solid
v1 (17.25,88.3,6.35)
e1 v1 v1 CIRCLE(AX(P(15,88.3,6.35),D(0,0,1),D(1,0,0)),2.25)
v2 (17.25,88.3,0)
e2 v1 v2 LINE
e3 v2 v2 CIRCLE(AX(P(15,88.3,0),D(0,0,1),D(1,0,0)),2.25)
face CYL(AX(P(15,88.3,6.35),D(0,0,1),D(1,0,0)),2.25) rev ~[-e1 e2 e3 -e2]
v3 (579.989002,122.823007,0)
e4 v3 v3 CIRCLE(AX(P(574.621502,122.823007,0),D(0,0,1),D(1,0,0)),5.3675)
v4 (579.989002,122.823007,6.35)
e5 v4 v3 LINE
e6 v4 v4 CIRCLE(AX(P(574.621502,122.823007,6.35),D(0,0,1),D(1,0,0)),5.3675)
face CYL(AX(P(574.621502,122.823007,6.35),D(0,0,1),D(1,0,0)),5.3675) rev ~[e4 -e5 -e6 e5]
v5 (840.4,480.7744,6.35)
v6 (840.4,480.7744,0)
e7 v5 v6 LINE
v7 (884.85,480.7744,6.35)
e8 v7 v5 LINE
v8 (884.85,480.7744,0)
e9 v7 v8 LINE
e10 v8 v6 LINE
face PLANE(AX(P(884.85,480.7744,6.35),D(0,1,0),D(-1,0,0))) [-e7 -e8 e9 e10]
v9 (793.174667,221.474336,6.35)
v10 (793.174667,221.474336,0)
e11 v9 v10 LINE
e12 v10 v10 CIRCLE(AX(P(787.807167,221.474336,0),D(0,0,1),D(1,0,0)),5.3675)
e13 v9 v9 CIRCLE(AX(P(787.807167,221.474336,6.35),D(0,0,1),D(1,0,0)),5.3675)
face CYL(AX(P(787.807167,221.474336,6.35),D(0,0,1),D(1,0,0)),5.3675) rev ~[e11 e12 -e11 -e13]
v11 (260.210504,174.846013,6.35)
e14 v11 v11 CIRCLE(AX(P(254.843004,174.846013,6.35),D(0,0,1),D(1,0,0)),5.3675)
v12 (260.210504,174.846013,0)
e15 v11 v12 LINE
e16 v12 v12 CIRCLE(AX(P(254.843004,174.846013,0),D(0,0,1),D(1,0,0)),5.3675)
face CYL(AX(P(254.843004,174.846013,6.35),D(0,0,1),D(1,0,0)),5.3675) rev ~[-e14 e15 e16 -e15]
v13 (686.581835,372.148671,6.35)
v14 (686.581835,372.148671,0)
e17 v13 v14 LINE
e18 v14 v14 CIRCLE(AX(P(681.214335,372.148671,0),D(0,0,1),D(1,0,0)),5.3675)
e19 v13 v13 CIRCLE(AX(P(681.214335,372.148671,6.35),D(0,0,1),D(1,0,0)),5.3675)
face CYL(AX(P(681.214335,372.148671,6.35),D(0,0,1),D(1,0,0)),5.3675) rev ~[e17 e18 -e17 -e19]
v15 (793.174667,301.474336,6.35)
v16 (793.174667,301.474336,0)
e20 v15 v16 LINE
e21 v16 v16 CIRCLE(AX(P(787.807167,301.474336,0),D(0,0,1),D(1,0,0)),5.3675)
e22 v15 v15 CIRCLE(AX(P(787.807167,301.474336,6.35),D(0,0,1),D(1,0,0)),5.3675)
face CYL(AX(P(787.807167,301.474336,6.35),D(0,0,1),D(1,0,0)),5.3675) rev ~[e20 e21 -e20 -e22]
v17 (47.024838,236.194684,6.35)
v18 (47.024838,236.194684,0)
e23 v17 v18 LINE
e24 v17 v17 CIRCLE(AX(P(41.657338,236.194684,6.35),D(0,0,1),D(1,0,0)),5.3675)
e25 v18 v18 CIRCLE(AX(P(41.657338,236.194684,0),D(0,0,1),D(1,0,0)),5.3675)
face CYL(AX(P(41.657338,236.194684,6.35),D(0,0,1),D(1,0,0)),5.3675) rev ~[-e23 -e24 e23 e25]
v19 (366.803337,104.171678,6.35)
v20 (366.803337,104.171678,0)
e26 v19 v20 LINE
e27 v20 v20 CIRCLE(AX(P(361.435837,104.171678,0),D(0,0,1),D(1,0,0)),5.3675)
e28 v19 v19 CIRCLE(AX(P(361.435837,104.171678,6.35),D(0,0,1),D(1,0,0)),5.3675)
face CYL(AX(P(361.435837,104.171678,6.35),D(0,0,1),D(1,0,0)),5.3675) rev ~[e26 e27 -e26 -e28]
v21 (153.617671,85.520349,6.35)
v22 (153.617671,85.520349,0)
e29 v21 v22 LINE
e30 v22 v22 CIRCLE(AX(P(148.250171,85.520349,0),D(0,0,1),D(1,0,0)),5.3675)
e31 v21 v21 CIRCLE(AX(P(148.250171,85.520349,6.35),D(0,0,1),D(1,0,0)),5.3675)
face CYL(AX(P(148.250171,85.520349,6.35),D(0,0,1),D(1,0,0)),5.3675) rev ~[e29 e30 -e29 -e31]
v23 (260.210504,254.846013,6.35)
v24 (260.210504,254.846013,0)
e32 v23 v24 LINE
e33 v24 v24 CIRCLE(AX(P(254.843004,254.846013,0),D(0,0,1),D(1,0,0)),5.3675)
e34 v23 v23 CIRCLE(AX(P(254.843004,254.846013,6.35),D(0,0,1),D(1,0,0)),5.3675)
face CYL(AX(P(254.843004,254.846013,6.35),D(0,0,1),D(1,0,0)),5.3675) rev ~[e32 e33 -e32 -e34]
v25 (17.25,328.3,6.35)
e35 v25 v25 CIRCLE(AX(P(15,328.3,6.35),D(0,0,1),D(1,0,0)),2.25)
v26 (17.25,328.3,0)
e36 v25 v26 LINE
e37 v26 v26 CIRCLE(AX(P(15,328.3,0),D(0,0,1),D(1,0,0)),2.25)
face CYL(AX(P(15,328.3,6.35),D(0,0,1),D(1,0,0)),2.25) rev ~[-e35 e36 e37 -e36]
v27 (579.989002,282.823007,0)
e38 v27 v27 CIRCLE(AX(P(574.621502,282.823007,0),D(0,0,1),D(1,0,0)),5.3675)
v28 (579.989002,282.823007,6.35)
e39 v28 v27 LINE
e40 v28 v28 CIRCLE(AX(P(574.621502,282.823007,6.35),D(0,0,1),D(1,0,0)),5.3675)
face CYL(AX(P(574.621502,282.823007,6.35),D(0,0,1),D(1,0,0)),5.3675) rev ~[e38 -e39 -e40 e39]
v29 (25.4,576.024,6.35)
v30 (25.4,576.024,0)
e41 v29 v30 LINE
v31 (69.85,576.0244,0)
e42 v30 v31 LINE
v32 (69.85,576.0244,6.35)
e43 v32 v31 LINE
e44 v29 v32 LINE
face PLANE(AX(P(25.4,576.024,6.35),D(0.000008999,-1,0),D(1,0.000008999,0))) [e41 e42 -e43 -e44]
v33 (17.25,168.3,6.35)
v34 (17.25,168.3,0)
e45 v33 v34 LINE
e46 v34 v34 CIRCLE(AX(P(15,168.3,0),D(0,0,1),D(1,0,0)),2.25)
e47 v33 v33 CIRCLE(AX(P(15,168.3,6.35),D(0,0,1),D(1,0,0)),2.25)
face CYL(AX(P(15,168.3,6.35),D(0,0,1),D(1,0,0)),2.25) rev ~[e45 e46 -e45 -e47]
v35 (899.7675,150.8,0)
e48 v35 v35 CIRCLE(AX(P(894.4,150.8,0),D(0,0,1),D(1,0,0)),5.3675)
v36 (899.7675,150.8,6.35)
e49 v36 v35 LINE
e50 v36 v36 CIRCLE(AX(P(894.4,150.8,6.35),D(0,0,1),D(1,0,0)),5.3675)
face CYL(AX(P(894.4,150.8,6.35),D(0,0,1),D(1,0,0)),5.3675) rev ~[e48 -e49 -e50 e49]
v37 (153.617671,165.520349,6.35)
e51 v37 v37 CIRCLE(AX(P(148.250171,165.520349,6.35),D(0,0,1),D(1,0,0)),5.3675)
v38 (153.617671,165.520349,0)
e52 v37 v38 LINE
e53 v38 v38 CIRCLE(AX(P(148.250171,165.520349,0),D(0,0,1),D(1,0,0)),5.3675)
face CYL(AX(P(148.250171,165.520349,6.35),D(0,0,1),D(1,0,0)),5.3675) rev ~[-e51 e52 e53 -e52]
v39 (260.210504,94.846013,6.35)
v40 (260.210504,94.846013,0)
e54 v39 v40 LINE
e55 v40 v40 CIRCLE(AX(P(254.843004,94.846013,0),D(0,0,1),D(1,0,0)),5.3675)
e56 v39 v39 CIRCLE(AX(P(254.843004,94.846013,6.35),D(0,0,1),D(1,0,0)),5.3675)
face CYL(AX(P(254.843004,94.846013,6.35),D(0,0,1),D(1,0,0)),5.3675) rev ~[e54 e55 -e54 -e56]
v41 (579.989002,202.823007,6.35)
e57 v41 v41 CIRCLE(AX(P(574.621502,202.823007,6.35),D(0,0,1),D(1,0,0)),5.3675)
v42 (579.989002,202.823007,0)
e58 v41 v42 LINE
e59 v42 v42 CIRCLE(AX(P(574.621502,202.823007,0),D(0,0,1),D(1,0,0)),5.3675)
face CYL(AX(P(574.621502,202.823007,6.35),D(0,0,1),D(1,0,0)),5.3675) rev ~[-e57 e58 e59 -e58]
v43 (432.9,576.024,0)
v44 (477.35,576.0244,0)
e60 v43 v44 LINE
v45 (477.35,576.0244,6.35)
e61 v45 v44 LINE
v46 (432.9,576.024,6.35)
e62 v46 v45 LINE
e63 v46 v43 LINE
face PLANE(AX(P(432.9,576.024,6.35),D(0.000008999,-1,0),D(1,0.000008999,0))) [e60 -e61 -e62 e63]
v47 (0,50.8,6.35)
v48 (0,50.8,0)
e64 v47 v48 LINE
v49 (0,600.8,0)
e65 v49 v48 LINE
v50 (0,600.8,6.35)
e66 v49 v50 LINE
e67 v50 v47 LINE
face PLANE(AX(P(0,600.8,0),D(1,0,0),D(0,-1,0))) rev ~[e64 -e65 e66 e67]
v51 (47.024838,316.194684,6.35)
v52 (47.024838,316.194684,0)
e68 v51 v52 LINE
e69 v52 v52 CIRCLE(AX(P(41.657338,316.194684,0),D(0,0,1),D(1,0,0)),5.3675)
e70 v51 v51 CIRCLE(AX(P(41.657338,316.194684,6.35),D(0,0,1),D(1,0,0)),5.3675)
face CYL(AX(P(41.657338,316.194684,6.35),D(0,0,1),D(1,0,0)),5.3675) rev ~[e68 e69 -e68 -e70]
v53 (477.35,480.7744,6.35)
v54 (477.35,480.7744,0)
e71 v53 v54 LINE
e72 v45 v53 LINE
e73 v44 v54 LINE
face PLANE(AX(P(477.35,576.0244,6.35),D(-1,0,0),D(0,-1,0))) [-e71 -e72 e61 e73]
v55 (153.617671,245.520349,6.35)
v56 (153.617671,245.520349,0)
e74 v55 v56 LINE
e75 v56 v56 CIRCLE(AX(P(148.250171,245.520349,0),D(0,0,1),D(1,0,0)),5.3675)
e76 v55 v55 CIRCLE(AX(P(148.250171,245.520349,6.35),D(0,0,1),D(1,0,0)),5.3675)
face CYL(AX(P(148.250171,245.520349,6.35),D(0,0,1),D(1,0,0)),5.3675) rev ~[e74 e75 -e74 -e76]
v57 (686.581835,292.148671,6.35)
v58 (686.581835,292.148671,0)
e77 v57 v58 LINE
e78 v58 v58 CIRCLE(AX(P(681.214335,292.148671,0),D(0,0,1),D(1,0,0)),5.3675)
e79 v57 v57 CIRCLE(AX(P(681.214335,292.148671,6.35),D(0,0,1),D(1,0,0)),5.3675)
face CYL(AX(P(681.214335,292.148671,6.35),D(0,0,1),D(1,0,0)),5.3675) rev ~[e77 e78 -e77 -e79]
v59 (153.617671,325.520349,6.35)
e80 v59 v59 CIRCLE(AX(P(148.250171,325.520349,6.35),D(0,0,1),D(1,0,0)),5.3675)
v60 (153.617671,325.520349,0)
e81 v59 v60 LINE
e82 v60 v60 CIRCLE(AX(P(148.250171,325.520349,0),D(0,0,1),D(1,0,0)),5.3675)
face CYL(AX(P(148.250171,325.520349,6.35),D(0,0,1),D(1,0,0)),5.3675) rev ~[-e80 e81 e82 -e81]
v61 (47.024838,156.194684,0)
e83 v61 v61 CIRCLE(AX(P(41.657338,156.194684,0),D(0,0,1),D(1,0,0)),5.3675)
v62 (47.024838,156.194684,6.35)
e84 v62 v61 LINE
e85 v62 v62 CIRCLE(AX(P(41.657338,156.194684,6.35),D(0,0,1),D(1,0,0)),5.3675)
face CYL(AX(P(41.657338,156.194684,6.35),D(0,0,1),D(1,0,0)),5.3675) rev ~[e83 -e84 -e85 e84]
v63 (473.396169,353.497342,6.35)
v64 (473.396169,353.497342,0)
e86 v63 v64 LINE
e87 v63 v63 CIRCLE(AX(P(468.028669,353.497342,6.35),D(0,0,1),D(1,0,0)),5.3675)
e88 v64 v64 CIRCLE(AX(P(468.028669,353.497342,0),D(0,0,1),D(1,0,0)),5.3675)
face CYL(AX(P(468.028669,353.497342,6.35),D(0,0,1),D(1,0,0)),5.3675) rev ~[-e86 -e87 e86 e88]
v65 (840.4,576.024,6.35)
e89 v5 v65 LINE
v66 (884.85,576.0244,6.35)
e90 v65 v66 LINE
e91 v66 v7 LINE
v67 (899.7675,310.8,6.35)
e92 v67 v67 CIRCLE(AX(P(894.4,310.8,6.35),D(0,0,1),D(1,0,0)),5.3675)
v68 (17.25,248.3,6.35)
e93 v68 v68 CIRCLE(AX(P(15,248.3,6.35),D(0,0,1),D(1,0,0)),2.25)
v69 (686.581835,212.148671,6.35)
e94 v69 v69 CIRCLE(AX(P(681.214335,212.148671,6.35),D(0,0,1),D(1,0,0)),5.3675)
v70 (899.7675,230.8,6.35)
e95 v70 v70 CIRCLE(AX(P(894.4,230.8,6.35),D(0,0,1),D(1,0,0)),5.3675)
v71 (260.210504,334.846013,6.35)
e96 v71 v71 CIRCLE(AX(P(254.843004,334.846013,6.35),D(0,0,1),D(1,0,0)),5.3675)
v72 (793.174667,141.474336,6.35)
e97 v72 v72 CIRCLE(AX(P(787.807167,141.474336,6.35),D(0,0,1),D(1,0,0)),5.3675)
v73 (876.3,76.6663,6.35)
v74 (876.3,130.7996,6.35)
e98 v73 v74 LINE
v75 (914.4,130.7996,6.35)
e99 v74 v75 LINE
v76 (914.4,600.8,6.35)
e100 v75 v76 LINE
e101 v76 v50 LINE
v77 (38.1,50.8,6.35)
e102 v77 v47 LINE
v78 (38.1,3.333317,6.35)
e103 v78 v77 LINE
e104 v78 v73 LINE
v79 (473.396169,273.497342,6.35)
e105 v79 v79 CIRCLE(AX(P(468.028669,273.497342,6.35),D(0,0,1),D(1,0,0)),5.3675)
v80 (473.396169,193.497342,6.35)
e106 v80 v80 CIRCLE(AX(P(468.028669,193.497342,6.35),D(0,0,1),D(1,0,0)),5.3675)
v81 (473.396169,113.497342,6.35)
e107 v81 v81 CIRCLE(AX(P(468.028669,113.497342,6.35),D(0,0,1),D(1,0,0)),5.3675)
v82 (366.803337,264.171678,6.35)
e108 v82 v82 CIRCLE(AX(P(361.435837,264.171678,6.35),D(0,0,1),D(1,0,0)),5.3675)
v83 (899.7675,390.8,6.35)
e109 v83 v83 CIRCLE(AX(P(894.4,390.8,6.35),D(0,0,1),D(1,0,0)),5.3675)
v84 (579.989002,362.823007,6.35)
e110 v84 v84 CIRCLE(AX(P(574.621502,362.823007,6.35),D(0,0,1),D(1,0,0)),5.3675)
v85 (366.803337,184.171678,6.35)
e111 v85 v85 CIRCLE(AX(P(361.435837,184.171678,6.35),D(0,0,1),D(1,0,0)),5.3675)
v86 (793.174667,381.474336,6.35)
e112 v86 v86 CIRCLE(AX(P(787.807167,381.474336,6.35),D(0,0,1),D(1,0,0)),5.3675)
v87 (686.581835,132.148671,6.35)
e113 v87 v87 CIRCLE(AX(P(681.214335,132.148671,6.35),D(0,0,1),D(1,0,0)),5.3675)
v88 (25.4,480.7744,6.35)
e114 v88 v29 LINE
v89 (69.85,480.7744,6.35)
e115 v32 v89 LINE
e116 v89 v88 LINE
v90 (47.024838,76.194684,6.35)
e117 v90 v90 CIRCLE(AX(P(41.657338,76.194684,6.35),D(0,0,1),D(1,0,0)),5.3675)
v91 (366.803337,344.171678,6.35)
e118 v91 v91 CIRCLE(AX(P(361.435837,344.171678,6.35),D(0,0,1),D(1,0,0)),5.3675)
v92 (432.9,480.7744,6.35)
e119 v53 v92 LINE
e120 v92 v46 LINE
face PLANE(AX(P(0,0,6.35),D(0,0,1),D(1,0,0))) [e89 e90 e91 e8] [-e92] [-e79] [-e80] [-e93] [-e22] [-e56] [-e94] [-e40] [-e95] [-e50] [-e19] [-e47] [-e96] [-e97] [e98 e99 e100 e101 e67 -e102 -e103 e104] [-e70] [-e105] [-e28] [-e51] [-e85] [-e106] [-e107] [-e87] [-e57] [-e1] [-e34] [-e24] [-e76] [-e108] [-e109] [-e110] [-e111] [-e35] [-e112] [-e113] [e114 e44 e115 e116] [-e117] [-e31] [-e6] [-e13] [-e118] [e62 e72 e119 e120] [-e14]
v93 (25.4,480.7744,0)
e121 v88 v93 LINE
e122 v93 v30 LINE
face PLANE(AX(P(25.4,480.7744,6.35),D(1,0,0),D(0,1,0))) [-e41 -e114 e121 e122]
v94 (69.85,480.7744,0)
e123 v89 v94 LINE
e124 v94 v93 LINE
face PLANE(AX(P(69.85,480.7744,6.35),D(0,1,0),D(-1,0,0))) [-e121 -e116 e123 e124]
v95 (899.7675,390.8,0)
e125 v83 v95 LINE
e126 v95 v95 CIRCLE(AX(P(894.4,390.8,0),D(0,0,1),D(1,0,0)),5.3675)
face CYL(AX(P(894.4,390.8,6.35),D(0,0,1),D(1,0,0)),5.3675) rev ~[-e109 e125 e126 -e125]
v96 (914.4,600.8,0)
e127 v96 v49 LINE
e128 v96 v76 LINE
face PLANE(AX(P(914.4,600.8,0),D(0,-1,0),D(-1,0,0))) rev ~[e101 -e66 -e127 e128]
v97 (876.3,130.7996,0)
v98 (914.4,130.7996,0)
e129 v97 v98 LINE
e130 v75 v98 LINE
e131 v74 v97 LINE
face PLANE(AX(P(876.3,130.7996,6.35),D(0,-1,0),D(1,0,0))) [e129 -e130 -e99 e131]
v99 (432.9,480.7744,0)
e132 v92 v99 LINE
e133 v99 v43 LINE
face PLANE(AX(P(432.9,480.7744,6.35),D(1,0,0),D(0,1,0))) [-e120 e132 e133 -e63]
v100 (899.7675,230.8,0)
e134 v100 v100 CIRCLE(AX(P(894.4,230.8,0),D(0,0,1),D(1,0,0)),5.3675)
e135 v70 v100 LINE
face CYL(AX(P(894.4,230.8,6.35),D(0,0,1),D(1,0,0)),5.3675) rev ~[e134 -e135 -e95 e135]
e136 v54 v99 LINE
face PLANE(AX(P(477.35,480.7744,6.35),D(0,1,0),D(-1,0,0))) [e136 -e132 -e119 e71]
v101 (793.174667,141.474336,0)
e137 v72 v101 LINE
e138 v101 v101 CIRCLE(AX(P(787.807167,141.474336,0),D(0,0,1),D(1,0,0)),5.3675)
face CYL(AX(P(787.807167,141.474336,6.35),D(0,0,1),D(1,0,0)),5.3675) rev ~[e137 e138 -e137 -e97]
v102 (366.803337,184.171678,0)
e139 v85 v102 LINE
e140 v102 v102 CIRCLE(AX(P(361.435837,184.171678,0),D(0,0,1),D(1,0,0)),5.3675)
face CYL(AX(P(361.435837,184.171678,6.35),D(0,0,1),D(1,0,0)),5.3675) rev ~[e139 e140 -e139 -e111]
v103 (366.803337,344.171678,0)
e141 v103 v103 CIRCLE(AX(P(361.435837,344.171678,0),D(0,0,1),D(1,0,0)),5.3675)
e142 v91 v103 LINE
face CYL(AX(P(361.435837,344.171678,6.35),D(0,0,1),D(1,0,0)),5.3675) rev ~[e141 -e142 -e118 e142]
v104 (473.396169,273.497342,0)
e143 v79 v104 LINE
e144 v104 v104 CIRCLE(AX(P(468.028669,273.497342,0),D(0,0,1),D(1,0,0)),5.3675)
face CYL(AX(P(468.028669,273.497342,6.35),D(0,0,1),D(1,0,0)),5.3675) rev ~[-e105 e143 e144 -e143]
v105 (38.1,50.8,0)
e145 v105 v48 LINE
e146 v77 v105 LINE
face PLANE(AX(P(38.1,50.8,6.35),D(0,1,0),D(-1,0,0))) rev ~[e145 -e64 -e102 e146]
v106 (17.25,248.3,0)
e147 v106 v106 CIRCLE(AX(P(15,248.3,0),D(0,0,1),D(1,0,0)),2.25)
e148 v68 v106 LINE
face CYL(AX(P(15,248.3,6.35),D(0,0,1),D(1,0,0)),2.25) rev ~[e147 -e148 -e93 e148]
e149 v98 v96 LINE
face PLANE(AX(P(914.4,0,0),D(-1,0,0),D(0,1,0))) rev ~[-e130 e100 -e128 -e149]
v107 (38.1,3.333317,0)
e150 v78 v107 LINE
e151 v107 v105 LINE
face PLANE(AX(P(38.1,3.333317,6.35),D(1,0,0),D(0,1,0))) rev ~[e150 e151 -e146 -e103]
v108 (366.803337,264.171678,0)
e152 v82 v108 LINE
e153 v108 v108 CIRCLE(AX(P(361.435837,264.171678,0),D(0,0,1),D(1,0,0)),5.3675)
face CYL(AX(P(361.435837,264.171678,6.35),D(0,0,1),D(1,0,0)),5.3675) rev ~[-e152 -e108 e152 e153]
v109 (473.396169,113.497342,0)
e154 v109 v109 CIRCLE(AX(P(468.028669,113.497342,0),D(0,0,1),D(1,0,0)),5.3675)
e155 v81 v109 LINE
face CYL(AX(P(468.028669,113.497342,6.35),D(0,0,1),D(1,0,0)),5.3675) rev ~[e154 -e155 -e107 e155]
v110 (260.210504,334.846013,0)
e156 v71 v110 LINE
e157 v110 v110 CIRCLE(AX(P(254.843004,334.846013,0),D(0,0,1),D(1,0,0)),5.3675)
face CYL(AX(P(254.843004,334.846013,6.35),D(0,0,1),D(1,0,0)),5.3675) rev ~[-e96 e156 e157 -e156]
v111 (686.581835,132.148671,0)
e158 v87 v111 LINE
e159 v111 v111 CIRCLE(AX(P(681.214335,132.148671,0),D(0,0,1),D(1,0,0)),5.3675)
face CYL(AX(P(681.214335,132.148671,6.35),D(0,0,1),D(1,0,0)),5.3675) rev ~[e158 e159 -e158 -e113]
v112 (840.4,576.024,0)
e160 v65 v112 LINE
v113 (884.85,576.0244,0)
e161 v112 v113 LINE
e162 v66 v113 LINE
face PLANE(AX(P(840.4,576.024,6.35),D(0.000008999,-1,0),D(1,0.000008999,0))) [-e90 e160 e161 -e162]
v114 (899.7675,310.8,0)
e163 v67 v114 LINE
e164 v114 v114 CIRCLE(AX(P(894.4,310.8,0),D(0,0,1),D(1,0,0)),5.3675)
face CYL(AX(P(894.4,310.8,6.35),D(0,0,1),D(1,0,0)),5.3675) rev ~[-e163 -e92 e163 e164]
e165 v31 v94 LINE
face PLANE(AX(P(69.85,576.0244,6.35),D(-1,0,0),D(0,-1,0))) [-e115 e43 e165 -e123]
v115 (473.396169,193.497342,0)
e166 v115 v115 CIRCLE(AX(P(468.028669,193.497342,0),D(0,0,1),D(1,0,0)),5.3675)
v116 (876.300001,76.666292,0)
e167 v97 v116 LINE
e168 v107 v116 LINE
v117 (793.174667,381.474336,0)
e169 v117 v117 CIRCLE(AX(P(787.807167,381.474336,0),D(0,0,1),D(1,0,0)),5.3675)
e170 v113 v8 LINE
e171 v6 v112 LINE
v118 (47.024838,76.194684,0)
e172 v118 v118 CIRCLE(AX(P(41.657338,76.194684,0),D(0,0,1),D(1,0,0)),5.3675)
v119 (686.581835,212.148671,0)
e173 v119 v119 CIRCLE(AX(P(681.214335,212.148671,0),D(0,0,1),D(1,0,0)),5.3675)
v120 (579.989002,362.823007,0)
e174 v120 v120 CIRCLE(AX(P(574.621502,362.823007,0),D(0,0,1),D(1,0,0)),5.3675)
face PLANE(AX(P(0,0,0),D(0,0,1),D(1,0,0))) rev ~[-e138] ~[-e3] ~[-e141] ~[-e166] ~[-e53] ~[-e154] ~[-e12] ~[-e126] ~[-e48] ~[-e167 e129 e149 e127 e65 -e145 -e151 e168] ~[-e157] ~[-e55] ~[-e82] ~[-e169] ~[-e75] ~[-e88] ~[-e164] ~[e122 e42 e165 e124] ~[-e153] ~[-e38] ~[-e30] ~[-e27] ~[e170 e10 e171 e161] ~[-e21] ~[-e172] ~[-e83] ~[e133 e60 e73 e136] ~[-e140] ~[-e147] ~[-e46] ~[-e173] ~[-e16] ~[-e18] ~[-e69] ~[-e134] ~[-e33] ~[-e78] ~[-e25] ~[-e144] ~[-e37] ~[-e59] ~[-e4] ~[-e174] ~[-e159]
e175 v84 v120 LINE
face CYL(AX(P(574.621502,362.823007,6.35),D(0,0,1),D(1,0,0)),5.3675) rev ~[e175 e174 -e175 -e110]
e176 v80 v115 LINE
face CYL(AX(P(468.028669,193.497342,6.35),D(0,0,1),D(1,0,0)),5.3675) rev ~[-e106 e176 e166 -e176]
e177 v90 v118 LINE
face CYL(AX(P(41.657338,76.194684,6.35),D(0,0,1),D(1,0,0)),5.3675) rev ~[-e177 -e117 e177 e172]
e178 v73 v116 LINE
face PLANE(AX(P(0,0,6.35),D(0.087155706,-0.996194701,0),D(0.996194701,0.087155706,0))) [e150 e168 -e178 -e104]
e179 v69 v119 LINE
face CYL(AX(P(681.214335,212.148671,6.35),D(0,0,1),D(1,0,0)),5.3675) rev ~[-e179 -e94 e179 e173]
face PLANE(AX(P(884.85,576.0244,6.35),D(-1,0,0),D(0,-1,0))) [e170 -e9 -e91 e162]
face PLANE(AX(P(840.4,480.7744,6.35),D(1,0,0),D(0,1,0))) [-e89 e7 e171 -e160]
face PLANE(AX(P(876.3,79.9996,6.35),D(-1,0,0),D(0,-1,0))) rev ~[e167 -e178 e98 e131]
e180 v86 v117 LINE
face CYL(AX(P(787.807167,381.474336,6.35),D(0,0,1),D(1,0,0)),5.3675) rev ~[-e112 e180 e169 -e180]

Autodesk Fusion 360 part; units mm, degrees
sketch "Sketch1" plane through (0, 0, 0) normal (0, 0, 1) x (1, 0, 0)
  line L0 (0, 0) -> (914.4, 0)
  line L1 (914.4, 0) -> (914.4, 600.8)
  line L2 (914.4, 600.8) -> (0, 600.8)
  line L3 (0, 600.8) -> (0, 0)
  dimension "d1" = 914.4
  dimension "d2" = 600.8
extrude "Extrude1" add sketch "Sketch1" along normal blind 6.35
sketch "Sketch4" plane through (0, 0, 6.35) normal (0, 0, 1) x (1, 0, 0)
  circle A0 centre (894.4, 150.8) radius 5.3675
  line L0 (0, 0) -> (800, 0)
  line L1 (914.4, 0) -> (914.4, 600.8)
  line L2 (0, 600.8) -> (0, 0)
  line L3 (0, 0) -> (914.4, 0)
  line L4 (914.4, 0) -> (914.4, 600.8)
  line L5 (914.4, 600.8) -> (0, 600.8)
  dimension "d6" = 10.735
  dimension "d8" = 150.8
  dimension "d38" = 20
extrude "Extrude2" cut sketch "Sketch4" against normal blind 35 contours A0
sketch "Sketch5" plane through (0, 0, 6.35) normal (0, 0, 1) x (1, 0, 0)
  circle A0 centre (894.4, 150.8) radius 5.3675
  line L0 (0, 600.8) -> (0, 0)
  line L1 (0, 0) -> (914.4, 0)
  line L2 (914.4, 0) -> (914.4, 600.8)
  line L3 (914.4, 600.8) -> (0, 600.8)
  line L4 (894.4, 150.8) -> (97.4442, 81.0754)
  line L5 (894.4, 150.8) -> (1694.4, 150.8) construction
  dimension "d11" = 175
  dimension "d12" = 800
pattern_linear "R-Pattern1" count 9 spacing 107 along (-0.9962, -0.0872, 0) count 4 spacing 80 along (0, 1, 0) of "Extrude2"
sketch "Sketch6" plane through (0, 0, 6.35) normal (0, 0, 1) x (1, 0, 0)
  circle A0 centre (41.6573, 316.1947) radius 5.3675
  circle A1 centre (148.2502, 325.5203) radius 5.3675
  circle A2 centre (254.843, 334.846) radius 5.3675
  circle A3 centre (361.4358, 344.1717) radius 5.3675
  circle A4 centre (468.0287, 353.4973) radius 5.3675
  circle A5 centre (574.6215, 362.823) radius 5.3675
  circle A6 centre (681.2143, 372.1487) radius 5.3675
  circle A7 centre (787.8072, 381.4743) radius 5.3675
  circle A8 centre (894.4, 390.8) radius 5.3675
  circle A9 centre (41.6573, 236.1947) radius 5.3675
  circle A10 centre (148.2502, 245.5203) radius 5.3675
  circle A11 centre (254.843, 254.846) radius 5.3675
  circle A12 centre (361.4358, 264.1717) radius 5.3675
  circle A13 centre (468.0287, 273.4973) radius 5.3675
  circle A14 centre (574.6215, 282.823) radius 5.3675
  circle A15 centre (681.2143, 292.1487) radius 5.3675
  circle A16 centre (787.8072, 301.4743) radius 5.3675
  circle A17 centre (894.4, 310.8) radius 5.3675
  circle A18 centre (41.6573, 156.1947) radius 5.3675
  circle A19 centre (148.2502, 165.5203) radius 5.3675
  circle A20 centre (254.843, 174.846) radius 5.3675
  circle A21 centre (361.4358, 184.1717) radius 5.3675
  circle A22 centre (468.0287, 193.4973) radius 5.3675
  circle A23 centre (574.6215, 202.823) radius 5.3675
  circle A24 centre (681.2143, 212.1487) radius 5.3675
  circle A25 centre (787.8072, 221.4743) radius 5.3675
  circle A26 centre (894.4, 230.8) radius 5.3675
  circle A27 centre (41.6573, 76.1947) radius 5.3675
  circle A28 centre (148.2502, 85.5203) radius 5.3675
  circle A29 centre (254.843, 94.846) radius 5.3675
  circle A30 centre (361.4358, 104.1717) radius 5.3675
  circle A31 centre (468.0287, 113.4973) radius 5.3675
  circle A32 centre (574.6215, 122.823) radius 5.3675
  circle A33 centre (681.2143, 132.1487) radius 5.3675
  circle A34 centre (787.8072, 141.4743) radius 5.3675
  circle A35 centre (894.4, 150.8) radius 5.3675
  line L0 (0, 600.8) -> (0, 0)
  line L1 (0, 0) -> (914.4, 0)
  line L2 (914.4, 0) -> (914.4, 600.8)
  line L3 (914.4, 600.8) -> (0, 600.8)
  line L4 (69.85, 576.0244) -> (69.85, 480.7744)
  line L5 (69.85, 480.7744) -> (25.4, 480.7744)
  line L6 (25.4, 480.7744) -> (25.4, 576.024)
  line L7 (25.4, 576.024) -> (69.85, 576.0244)
  line L8 (0, 600.8) -> (0, 0)
  line L9 (914.4, 600.8) -> (0, 600.8)
  line L10 (0, 0) -> (800, 0)
  dimension "d17" = 95.25
  dimension "d18" = 44.45
  dimension "d39" = 25.4
  dimension "d42" = 44.45
  dimension "d43" = 480.7744
extrude "Extrude3" cut sketch "Sketch6" against normal blind 100 contours L4 L5 L6 L7
pattern_linear "R-Pattern2" count 3 spacing 407.5 along (1, 0, 0) of "Extrude3"
sketch "Sketch7" plane through (0, 0, 6.35) normal (0, 0, 1) x (1, 0, 0)
  line L0 (884.85, 480.7744) -> (840.4, 480.7744)
  line L1 (840.4, 480.7744) -> (840.4, 576.024)
  line L2 (840.4, 576.024) -> (884.85, 576.0244)
  line L3 (884.85, 576.0244) -> (884.85, 480.7744)
  line L4 (477.35, 480.7744) -> (432.9, 480.7744)
  line L5 (432.9, 480.7744) -> (432.9, 576.024)
  line L6 (432.9, 576.024) -> (477.35, 576.0244)
  line L7 (477.35, 576.0244) -> (477.35, 480.7744)
  line L8 (69.85, 480.7744) -> (25.4, 480.7744)
  line L9 (25.4, 480.7744) -> (25.4, 576.024)
  line L10 (25.4, 576.024) -> (69.85, 576.0244)
  line L11 (69.85, 576.0244) -> (69.85, 480.7744)
  circle A0 centre (41.6573, 316.1947) radius 5.3675
  circle A1 centre (148.2502, 325.5203) radius 5.3675
  circle A2 centre (254.843, 334.846) radius 5.3675
  circle A3 centre (361.4358, 344.1717) radius 5.3675
  circle A4 centre (468.0287, 353.4973) radius 5.3675
  circle A5 centre (574.6215, 362.823) radius 5.3675
  circle A6 centre (681.2143, 372.1487) radius 5.3675
  circle A7 centre (787.8072, 381.4743) radius 5.3675
  circle A8 centre (894.4, 390.8) radius 5.3675
  circle A9 centre (41.6573, 236.1947) radius 5.3675
  circle A10 centre (148.2502, 245.5203) radius 5.3675
  circle A11 centre (254.843, 254.846) radius 5.3675
  circle A12 centre (361.4358, 264.1717) radius 5.3675
  circle A13 centre (468.0287, 273.4973) radius 5.3675
  circle A14 centre (574.6215, 282.823) radius 5.3675
  circle A15 centre (681.2143, 292.1487) radius 5.3675
  circle A16 centre (787.8072, 301.4743) radius 5.3675
  circle A17 centre (894.4, 310.8) radius 5.3675
  circle A18 centre (41.6573, 156.1947) radius 5.3675
  circle A19 centre (148.2502, 165.5203) radius 5.3675
  circle A20 centre (254.843, 174.846) radius 5.3675
  circle A21 centre (361.4358, 184.1717) radius 5.3675
  circle A22 centre (468.0287, 193.4973) radius 5.3675
  circle A23 centre (574.6215, 202.823) radius 5.3675
  circle A24 centre (681.2143, 212.1487) radius 5.3675
  circle A25 centre (787.8072, 221.4743) radius 5.3675
  circle A26 centre (894.4, 230.8) radius 5.3675
  circle A27 centre (41.6573, 76.1947) radius 5.3675
  circle A28 centre (148.2502, 85.5203) radius 5.3675
  circle A29 centre (254.843, 94.846) radius 5.3675
  circle A30 centre (361.4358, 104.1717) radius 5.3675
  circle A31 centre (468.0287, 113.4973) radius 5.3675
  circle A32 centre (574.6215, 122.823) radius 5.3675
  circle A33 centre (681.2143, 132.1487) radius 5.3675
  circle A34 centre (787.8072, 141.4743) radius 5.3675
  circle A35 centre (894.4, 150.8) radius 5.3675
  line L12 (0, 600.8) -> (0, 0)
  line L13 (0, 0) -> (914.4, 0)
  line L14 (914.4, 0) -> (914.4, 600.8)
  line L15 (914.4, 600.8) -> (0, 600.8)
  line L16 (0, 0) -> (914.4, 79.9996)
  line L17 (0, 0) -> (803.0559, 0) construction
  line L18 (914.4, 79.9996) -> (914.4, 0)
  line L19 (914.4, 0) -> (0, 0)
  dimension "d25" = 5
extrude "Extrude4" cut sketch "Sketch7" against normal blind 150 contours L13 L14 L16 L18 L19
sketch "Sketch8" plane through (0, 0, 6.35) normal (0, 0, 1) x (1, 0, 0)
  line L0 (0, 0) -> (914.4, 79.9996)
  line L1 (914.4, 79.9996) -> (914.4, 600.8)
  line L2 (914.4, 600.8) -> (0, 600.8)
  line L3 (0, 600.8) -> (0, 0)
  circle A0 centre (894.4, 150.8) radius 5.3675
  circle A1 centre (787.8072, 141.4743) radius 5.3675
  circle A2 centre (681.2143, 132.1487) radius 5.3675
  circle A3 centre (574.6215, 122.823) radius 5.3675
  circle A4 centre (468.0287, 113.4973) radius 5.3675
  circle A5 centre (361.4358, 104.1717) radius 5.3675
  circle A6 centre (254.843, 94.846) radius 5.3675
  circle A7 centre (148.2502, 85.5203) radius 5.3675
  circle A8 centre (41.6573, 76.1947) radius 5.3675
  circle A9 centre (894.4, 230.8) radius 5.3675
  circle A10 centre (787.8072, 221.4743) radius 5.3675
  circle A11 centre (681.2143, 212.1487) radius 5.3675
  circle A12 centre (574.6215, 202.823) radius 5.3675
  circle A13 centre (468.0287, 193.4973) radius 5.3675
  circle A14 centre (361.4358, 184.1717) radius 5.3675
  circle A15 centre (254.843, 174.846) radius 5.3675
  circle A16 centre (148.2502, 165.5203) radius 5.3675
  circle A17 centre (41.6573, 156.1947) radius 5.3675
  circle A18 centre (894.4, 310.8) radius 5.3675
  circle A19 centre (787.8072, 301.4743) radius 5.3675
  circle A20 centre (681.2143, 292.1487) radius 5.3675
  circle A21 centre (574.6215, 282.823) radius 5.3675
  circle A22 centre (468.0287, 273.4973) radius 5.3675
  circle A23 centre (361.4358, 264.1717) radius 5.3675
  circle A24 centre (254.843, 254.846) radius 5.3675
  circle A25 centre (148.2502, 245.5203) radius 5.3675
  circle A26 centre (41.6573, 236.1947) radius 5.3675
  circle A27 centre (894.4, 390.8) radius 5.3675
  circle A28 centre (787.8072, 381.4743) radius 5.3675
  circle A29 centre (681.2143, 372.1487) radius 5.3675
  circle A30 centre (574.6215, 362.823) radius 5.3675
  circle A31 centre (468.0287, 353.4973) radius 5.3675
  circle A32 centre (361.4358, 344.1717) radius 5.3675
  circle A33 centre (254.843, 334.846) radius 5.3675
  circle A34 centre (148.2502, 325.5203) radius 5.3675
  circle A35 centre (41.6573, 316.1947) radius 5.3675
  line L4 (69.85, 480.7744) -> (25.4, 480.7744)
  line L5 (25.4, 480.7744) -> (25.4, 576.024)
  line L6 (25.4, 576.024) -> (69.85, 576.0244)
  line L7 (69.85, 576.0244) -> (69.85, 480.7744)
  line L8 (477.35, 480.7744) -> (432.9, 480.7744)
  line L9 (432.9, 480.7744) -> (432.9, 576.024)
  line L10 (432.9, 576.024) -> (477.35, 576.0244)
  line L11 (477.35, 576.0244) -> (477.35, 480.7744)
  line L12 (884.85, 480.7744) -> (840.4, 480.7744)
  line L13 (840.4, 480.7744) -> (840.4, 576.024)
  line L14 (840.4, 576.024) -> (884.85, 576.0244)
  line L15 (884.85, 576.0244) -> (884.85, 480.7744)
  circle A36 centre (15, 88.3) radius 2.25
  dimension "d28" = 4.5
  dimension "d29" = 88.3
  dimension "d30" = 15
extrude "Extrude5" cut sketch "Sketch8" against normal blind 35 contours A36
pattern_linear "R-Pattern3" count 4 spacing 80 along (0, 1, 0) of "Extrude5"
sketch "Sketch9" plane through (0, 0, 6.35) normal (0, 0, 1) x (1, 0, 0)
  circle A0 centre (15, 328.3) radius 2.25
  circle A1 centre (15, 248.3) radius 2.25
  circle A2 centre (15, 168.3) radius 2.25
  circle A3 centre (15, 88.3) radius 2.25
  line L0 (0, 0) -> (914.4, 79.9996)
  line L1 (914.4, 79.9996) -> (914.4, 600.8)
  line L2 (914.4, 600.8) -> (0, 600.8)
  line L3 (0, 600.8) -> (0, 0)
  circle A4 centre (894.4, 150.8) radius 5.3675
  circle A5 centre (787.8072, 141.4743) radius 5.3675
  circle A6 centre (681.2143, 132.1487) radius 5.3675
  circle A7 centre (574.6215, 122.823) radius 5.3675
  circle A8 centre (468.0287, 113.4973) radius 5.3675
  circle A9 centre (361.4358, 104.1717) radius 5.3675
  circle A10 centre (254.843, 94.846) radius 5.3675
  circle A11 centre (148.2502, 85.5203) radius 5.3675
  circle A12 centre (41.6573, 76.1947) radius 5.3675
  circle A13 centre (894.4, 230.8) radius 5.3675
  circle A14 centre (787.8072, 221.4743) radius 5.3675
  circle A15 centre (681.2143, 212.1487) radius 5.3675
  circle A16 centre (574.6215, 202.823) radius 5.3675
  circle A17 centre (468.0287, 193.4973) radius 5.3675
  circle A18 centre (361.4358, 184.1717) radius 5.3675
  circle A19 centre (254.843, 174.846) radius 5.3675
  circle A20 centre (148.2502, 165.5203) radius 5.3675
  circle A21 centre (41.6573, 156.1947) radius 5.3675
  circle A22 centre (894.4, 310.8) radius 5.3675
  circle A23 centre (787.8072, 301.4743) radius 5.3675
  circle A24 centre (681.2143, 292.1487) radius 5.3675
  circle A25 centre (574.6215, 282.823) radius 5.3675
  circle A26 centre (468.0287, 273.4973) radius 5.3675
  circle A27 centre (361.4358, 264.1717) radius 5.3675
  circle A28 centre (254.843, 254.846) radius 5.3675
  circle A29 centre (148.2502, 245.5203) radius 5.3675
  circle A30 centre (41.6573, 236.1947) radius 5.3675
  circle A31 centre (894.4, 390.8) radius 5.3675
  circle A32 centre (787.8072, 381.4743) radius 5.3675
  circle A33 centre (681.2143, 372.1487) radius 5.3675
  circle A34 centre (574.6215, 362.823) radius 5.3675
  circle A35 centre (468.0287, 353.4973) radius 5.3675
  circle A36 centre (361.4358, 344.1717) radius 5.3675
  circle A37 centre (254.843, 334.846) radius 5.3675
  circle A38 centre (148.2502, 325.5203) radius 5.3675
  circle A39 centre (41.6573, 316.1947) radius 5.3675
  line L4 (69.85, 480.7744) -> (25.4, 480.7744)
  line L5 (25.4, 480.7744) -> (25.4, 576.024)
  line L6 (25.4, 576.024) -> (69.85, 576.0244)
  line L7 (69.85, 576.0244) -> (69.85, 480.7744)
  line L8 (477.35, 480.7744) -> (432.9, 480.7744)
  line L9 (432.9, 480.7744) -> (432.9, 576.024)
  line L10 (432.9, 576.024) -> (477.35, 576.0244)
  line L11 (477.35, 576.0244) -> (477.35, 480.7744)
  line L12 (884.85, 480.7744) -> (840.4, 480.7744)
  line L13 (840.4, 480.7744) -> (840.4, 576.024)
  line L14 (840.4, 576.024) -> (884.85, 576.0244)
  line L15 (884.85, 576.0244) -> (884.85, 480.7744)
  line L16 (0, 0) -> (38.1, 0)
  line L17 (38.1, 0) -> (38.1, 50.8)
  line L18 (38.1, 50.8) -> (0, 50.8)
  line L19 (0, 50.8) -> (0, 0)
  line L20 (876.3, 79.9996) -> (876.3, 130.7996)
  line L21 (876.3, 130.7996) -> (914.4, 130.7996)
  line L22 (914.4, 130.7996) -> (914.4, 79.9996)
  line L23 (876.3, 79.9996) -> (876.3, 76.6663)
  line L24 (914.4, 79.9996) -> (876.3, 76.6663)
  dimension "d44" = 38.1
  dimension "d45" = 50.8
  dimension "d46" = 38.1
  dimension "d47" = 50.8
extrude "Extrude6" cut sketch "Sketch9" against normal through all contours L0 L1 L20 L21 L22 L23 L24 | L0 L3 L17 L18 L19
equation "d2 = 550 mm + 2 in"
equation "d8 = 100 mm + 2 in"
equation "d29 = 37.5 mm + 2 in"
equation "d43 = 429.9744283331 mm + 2 in"
